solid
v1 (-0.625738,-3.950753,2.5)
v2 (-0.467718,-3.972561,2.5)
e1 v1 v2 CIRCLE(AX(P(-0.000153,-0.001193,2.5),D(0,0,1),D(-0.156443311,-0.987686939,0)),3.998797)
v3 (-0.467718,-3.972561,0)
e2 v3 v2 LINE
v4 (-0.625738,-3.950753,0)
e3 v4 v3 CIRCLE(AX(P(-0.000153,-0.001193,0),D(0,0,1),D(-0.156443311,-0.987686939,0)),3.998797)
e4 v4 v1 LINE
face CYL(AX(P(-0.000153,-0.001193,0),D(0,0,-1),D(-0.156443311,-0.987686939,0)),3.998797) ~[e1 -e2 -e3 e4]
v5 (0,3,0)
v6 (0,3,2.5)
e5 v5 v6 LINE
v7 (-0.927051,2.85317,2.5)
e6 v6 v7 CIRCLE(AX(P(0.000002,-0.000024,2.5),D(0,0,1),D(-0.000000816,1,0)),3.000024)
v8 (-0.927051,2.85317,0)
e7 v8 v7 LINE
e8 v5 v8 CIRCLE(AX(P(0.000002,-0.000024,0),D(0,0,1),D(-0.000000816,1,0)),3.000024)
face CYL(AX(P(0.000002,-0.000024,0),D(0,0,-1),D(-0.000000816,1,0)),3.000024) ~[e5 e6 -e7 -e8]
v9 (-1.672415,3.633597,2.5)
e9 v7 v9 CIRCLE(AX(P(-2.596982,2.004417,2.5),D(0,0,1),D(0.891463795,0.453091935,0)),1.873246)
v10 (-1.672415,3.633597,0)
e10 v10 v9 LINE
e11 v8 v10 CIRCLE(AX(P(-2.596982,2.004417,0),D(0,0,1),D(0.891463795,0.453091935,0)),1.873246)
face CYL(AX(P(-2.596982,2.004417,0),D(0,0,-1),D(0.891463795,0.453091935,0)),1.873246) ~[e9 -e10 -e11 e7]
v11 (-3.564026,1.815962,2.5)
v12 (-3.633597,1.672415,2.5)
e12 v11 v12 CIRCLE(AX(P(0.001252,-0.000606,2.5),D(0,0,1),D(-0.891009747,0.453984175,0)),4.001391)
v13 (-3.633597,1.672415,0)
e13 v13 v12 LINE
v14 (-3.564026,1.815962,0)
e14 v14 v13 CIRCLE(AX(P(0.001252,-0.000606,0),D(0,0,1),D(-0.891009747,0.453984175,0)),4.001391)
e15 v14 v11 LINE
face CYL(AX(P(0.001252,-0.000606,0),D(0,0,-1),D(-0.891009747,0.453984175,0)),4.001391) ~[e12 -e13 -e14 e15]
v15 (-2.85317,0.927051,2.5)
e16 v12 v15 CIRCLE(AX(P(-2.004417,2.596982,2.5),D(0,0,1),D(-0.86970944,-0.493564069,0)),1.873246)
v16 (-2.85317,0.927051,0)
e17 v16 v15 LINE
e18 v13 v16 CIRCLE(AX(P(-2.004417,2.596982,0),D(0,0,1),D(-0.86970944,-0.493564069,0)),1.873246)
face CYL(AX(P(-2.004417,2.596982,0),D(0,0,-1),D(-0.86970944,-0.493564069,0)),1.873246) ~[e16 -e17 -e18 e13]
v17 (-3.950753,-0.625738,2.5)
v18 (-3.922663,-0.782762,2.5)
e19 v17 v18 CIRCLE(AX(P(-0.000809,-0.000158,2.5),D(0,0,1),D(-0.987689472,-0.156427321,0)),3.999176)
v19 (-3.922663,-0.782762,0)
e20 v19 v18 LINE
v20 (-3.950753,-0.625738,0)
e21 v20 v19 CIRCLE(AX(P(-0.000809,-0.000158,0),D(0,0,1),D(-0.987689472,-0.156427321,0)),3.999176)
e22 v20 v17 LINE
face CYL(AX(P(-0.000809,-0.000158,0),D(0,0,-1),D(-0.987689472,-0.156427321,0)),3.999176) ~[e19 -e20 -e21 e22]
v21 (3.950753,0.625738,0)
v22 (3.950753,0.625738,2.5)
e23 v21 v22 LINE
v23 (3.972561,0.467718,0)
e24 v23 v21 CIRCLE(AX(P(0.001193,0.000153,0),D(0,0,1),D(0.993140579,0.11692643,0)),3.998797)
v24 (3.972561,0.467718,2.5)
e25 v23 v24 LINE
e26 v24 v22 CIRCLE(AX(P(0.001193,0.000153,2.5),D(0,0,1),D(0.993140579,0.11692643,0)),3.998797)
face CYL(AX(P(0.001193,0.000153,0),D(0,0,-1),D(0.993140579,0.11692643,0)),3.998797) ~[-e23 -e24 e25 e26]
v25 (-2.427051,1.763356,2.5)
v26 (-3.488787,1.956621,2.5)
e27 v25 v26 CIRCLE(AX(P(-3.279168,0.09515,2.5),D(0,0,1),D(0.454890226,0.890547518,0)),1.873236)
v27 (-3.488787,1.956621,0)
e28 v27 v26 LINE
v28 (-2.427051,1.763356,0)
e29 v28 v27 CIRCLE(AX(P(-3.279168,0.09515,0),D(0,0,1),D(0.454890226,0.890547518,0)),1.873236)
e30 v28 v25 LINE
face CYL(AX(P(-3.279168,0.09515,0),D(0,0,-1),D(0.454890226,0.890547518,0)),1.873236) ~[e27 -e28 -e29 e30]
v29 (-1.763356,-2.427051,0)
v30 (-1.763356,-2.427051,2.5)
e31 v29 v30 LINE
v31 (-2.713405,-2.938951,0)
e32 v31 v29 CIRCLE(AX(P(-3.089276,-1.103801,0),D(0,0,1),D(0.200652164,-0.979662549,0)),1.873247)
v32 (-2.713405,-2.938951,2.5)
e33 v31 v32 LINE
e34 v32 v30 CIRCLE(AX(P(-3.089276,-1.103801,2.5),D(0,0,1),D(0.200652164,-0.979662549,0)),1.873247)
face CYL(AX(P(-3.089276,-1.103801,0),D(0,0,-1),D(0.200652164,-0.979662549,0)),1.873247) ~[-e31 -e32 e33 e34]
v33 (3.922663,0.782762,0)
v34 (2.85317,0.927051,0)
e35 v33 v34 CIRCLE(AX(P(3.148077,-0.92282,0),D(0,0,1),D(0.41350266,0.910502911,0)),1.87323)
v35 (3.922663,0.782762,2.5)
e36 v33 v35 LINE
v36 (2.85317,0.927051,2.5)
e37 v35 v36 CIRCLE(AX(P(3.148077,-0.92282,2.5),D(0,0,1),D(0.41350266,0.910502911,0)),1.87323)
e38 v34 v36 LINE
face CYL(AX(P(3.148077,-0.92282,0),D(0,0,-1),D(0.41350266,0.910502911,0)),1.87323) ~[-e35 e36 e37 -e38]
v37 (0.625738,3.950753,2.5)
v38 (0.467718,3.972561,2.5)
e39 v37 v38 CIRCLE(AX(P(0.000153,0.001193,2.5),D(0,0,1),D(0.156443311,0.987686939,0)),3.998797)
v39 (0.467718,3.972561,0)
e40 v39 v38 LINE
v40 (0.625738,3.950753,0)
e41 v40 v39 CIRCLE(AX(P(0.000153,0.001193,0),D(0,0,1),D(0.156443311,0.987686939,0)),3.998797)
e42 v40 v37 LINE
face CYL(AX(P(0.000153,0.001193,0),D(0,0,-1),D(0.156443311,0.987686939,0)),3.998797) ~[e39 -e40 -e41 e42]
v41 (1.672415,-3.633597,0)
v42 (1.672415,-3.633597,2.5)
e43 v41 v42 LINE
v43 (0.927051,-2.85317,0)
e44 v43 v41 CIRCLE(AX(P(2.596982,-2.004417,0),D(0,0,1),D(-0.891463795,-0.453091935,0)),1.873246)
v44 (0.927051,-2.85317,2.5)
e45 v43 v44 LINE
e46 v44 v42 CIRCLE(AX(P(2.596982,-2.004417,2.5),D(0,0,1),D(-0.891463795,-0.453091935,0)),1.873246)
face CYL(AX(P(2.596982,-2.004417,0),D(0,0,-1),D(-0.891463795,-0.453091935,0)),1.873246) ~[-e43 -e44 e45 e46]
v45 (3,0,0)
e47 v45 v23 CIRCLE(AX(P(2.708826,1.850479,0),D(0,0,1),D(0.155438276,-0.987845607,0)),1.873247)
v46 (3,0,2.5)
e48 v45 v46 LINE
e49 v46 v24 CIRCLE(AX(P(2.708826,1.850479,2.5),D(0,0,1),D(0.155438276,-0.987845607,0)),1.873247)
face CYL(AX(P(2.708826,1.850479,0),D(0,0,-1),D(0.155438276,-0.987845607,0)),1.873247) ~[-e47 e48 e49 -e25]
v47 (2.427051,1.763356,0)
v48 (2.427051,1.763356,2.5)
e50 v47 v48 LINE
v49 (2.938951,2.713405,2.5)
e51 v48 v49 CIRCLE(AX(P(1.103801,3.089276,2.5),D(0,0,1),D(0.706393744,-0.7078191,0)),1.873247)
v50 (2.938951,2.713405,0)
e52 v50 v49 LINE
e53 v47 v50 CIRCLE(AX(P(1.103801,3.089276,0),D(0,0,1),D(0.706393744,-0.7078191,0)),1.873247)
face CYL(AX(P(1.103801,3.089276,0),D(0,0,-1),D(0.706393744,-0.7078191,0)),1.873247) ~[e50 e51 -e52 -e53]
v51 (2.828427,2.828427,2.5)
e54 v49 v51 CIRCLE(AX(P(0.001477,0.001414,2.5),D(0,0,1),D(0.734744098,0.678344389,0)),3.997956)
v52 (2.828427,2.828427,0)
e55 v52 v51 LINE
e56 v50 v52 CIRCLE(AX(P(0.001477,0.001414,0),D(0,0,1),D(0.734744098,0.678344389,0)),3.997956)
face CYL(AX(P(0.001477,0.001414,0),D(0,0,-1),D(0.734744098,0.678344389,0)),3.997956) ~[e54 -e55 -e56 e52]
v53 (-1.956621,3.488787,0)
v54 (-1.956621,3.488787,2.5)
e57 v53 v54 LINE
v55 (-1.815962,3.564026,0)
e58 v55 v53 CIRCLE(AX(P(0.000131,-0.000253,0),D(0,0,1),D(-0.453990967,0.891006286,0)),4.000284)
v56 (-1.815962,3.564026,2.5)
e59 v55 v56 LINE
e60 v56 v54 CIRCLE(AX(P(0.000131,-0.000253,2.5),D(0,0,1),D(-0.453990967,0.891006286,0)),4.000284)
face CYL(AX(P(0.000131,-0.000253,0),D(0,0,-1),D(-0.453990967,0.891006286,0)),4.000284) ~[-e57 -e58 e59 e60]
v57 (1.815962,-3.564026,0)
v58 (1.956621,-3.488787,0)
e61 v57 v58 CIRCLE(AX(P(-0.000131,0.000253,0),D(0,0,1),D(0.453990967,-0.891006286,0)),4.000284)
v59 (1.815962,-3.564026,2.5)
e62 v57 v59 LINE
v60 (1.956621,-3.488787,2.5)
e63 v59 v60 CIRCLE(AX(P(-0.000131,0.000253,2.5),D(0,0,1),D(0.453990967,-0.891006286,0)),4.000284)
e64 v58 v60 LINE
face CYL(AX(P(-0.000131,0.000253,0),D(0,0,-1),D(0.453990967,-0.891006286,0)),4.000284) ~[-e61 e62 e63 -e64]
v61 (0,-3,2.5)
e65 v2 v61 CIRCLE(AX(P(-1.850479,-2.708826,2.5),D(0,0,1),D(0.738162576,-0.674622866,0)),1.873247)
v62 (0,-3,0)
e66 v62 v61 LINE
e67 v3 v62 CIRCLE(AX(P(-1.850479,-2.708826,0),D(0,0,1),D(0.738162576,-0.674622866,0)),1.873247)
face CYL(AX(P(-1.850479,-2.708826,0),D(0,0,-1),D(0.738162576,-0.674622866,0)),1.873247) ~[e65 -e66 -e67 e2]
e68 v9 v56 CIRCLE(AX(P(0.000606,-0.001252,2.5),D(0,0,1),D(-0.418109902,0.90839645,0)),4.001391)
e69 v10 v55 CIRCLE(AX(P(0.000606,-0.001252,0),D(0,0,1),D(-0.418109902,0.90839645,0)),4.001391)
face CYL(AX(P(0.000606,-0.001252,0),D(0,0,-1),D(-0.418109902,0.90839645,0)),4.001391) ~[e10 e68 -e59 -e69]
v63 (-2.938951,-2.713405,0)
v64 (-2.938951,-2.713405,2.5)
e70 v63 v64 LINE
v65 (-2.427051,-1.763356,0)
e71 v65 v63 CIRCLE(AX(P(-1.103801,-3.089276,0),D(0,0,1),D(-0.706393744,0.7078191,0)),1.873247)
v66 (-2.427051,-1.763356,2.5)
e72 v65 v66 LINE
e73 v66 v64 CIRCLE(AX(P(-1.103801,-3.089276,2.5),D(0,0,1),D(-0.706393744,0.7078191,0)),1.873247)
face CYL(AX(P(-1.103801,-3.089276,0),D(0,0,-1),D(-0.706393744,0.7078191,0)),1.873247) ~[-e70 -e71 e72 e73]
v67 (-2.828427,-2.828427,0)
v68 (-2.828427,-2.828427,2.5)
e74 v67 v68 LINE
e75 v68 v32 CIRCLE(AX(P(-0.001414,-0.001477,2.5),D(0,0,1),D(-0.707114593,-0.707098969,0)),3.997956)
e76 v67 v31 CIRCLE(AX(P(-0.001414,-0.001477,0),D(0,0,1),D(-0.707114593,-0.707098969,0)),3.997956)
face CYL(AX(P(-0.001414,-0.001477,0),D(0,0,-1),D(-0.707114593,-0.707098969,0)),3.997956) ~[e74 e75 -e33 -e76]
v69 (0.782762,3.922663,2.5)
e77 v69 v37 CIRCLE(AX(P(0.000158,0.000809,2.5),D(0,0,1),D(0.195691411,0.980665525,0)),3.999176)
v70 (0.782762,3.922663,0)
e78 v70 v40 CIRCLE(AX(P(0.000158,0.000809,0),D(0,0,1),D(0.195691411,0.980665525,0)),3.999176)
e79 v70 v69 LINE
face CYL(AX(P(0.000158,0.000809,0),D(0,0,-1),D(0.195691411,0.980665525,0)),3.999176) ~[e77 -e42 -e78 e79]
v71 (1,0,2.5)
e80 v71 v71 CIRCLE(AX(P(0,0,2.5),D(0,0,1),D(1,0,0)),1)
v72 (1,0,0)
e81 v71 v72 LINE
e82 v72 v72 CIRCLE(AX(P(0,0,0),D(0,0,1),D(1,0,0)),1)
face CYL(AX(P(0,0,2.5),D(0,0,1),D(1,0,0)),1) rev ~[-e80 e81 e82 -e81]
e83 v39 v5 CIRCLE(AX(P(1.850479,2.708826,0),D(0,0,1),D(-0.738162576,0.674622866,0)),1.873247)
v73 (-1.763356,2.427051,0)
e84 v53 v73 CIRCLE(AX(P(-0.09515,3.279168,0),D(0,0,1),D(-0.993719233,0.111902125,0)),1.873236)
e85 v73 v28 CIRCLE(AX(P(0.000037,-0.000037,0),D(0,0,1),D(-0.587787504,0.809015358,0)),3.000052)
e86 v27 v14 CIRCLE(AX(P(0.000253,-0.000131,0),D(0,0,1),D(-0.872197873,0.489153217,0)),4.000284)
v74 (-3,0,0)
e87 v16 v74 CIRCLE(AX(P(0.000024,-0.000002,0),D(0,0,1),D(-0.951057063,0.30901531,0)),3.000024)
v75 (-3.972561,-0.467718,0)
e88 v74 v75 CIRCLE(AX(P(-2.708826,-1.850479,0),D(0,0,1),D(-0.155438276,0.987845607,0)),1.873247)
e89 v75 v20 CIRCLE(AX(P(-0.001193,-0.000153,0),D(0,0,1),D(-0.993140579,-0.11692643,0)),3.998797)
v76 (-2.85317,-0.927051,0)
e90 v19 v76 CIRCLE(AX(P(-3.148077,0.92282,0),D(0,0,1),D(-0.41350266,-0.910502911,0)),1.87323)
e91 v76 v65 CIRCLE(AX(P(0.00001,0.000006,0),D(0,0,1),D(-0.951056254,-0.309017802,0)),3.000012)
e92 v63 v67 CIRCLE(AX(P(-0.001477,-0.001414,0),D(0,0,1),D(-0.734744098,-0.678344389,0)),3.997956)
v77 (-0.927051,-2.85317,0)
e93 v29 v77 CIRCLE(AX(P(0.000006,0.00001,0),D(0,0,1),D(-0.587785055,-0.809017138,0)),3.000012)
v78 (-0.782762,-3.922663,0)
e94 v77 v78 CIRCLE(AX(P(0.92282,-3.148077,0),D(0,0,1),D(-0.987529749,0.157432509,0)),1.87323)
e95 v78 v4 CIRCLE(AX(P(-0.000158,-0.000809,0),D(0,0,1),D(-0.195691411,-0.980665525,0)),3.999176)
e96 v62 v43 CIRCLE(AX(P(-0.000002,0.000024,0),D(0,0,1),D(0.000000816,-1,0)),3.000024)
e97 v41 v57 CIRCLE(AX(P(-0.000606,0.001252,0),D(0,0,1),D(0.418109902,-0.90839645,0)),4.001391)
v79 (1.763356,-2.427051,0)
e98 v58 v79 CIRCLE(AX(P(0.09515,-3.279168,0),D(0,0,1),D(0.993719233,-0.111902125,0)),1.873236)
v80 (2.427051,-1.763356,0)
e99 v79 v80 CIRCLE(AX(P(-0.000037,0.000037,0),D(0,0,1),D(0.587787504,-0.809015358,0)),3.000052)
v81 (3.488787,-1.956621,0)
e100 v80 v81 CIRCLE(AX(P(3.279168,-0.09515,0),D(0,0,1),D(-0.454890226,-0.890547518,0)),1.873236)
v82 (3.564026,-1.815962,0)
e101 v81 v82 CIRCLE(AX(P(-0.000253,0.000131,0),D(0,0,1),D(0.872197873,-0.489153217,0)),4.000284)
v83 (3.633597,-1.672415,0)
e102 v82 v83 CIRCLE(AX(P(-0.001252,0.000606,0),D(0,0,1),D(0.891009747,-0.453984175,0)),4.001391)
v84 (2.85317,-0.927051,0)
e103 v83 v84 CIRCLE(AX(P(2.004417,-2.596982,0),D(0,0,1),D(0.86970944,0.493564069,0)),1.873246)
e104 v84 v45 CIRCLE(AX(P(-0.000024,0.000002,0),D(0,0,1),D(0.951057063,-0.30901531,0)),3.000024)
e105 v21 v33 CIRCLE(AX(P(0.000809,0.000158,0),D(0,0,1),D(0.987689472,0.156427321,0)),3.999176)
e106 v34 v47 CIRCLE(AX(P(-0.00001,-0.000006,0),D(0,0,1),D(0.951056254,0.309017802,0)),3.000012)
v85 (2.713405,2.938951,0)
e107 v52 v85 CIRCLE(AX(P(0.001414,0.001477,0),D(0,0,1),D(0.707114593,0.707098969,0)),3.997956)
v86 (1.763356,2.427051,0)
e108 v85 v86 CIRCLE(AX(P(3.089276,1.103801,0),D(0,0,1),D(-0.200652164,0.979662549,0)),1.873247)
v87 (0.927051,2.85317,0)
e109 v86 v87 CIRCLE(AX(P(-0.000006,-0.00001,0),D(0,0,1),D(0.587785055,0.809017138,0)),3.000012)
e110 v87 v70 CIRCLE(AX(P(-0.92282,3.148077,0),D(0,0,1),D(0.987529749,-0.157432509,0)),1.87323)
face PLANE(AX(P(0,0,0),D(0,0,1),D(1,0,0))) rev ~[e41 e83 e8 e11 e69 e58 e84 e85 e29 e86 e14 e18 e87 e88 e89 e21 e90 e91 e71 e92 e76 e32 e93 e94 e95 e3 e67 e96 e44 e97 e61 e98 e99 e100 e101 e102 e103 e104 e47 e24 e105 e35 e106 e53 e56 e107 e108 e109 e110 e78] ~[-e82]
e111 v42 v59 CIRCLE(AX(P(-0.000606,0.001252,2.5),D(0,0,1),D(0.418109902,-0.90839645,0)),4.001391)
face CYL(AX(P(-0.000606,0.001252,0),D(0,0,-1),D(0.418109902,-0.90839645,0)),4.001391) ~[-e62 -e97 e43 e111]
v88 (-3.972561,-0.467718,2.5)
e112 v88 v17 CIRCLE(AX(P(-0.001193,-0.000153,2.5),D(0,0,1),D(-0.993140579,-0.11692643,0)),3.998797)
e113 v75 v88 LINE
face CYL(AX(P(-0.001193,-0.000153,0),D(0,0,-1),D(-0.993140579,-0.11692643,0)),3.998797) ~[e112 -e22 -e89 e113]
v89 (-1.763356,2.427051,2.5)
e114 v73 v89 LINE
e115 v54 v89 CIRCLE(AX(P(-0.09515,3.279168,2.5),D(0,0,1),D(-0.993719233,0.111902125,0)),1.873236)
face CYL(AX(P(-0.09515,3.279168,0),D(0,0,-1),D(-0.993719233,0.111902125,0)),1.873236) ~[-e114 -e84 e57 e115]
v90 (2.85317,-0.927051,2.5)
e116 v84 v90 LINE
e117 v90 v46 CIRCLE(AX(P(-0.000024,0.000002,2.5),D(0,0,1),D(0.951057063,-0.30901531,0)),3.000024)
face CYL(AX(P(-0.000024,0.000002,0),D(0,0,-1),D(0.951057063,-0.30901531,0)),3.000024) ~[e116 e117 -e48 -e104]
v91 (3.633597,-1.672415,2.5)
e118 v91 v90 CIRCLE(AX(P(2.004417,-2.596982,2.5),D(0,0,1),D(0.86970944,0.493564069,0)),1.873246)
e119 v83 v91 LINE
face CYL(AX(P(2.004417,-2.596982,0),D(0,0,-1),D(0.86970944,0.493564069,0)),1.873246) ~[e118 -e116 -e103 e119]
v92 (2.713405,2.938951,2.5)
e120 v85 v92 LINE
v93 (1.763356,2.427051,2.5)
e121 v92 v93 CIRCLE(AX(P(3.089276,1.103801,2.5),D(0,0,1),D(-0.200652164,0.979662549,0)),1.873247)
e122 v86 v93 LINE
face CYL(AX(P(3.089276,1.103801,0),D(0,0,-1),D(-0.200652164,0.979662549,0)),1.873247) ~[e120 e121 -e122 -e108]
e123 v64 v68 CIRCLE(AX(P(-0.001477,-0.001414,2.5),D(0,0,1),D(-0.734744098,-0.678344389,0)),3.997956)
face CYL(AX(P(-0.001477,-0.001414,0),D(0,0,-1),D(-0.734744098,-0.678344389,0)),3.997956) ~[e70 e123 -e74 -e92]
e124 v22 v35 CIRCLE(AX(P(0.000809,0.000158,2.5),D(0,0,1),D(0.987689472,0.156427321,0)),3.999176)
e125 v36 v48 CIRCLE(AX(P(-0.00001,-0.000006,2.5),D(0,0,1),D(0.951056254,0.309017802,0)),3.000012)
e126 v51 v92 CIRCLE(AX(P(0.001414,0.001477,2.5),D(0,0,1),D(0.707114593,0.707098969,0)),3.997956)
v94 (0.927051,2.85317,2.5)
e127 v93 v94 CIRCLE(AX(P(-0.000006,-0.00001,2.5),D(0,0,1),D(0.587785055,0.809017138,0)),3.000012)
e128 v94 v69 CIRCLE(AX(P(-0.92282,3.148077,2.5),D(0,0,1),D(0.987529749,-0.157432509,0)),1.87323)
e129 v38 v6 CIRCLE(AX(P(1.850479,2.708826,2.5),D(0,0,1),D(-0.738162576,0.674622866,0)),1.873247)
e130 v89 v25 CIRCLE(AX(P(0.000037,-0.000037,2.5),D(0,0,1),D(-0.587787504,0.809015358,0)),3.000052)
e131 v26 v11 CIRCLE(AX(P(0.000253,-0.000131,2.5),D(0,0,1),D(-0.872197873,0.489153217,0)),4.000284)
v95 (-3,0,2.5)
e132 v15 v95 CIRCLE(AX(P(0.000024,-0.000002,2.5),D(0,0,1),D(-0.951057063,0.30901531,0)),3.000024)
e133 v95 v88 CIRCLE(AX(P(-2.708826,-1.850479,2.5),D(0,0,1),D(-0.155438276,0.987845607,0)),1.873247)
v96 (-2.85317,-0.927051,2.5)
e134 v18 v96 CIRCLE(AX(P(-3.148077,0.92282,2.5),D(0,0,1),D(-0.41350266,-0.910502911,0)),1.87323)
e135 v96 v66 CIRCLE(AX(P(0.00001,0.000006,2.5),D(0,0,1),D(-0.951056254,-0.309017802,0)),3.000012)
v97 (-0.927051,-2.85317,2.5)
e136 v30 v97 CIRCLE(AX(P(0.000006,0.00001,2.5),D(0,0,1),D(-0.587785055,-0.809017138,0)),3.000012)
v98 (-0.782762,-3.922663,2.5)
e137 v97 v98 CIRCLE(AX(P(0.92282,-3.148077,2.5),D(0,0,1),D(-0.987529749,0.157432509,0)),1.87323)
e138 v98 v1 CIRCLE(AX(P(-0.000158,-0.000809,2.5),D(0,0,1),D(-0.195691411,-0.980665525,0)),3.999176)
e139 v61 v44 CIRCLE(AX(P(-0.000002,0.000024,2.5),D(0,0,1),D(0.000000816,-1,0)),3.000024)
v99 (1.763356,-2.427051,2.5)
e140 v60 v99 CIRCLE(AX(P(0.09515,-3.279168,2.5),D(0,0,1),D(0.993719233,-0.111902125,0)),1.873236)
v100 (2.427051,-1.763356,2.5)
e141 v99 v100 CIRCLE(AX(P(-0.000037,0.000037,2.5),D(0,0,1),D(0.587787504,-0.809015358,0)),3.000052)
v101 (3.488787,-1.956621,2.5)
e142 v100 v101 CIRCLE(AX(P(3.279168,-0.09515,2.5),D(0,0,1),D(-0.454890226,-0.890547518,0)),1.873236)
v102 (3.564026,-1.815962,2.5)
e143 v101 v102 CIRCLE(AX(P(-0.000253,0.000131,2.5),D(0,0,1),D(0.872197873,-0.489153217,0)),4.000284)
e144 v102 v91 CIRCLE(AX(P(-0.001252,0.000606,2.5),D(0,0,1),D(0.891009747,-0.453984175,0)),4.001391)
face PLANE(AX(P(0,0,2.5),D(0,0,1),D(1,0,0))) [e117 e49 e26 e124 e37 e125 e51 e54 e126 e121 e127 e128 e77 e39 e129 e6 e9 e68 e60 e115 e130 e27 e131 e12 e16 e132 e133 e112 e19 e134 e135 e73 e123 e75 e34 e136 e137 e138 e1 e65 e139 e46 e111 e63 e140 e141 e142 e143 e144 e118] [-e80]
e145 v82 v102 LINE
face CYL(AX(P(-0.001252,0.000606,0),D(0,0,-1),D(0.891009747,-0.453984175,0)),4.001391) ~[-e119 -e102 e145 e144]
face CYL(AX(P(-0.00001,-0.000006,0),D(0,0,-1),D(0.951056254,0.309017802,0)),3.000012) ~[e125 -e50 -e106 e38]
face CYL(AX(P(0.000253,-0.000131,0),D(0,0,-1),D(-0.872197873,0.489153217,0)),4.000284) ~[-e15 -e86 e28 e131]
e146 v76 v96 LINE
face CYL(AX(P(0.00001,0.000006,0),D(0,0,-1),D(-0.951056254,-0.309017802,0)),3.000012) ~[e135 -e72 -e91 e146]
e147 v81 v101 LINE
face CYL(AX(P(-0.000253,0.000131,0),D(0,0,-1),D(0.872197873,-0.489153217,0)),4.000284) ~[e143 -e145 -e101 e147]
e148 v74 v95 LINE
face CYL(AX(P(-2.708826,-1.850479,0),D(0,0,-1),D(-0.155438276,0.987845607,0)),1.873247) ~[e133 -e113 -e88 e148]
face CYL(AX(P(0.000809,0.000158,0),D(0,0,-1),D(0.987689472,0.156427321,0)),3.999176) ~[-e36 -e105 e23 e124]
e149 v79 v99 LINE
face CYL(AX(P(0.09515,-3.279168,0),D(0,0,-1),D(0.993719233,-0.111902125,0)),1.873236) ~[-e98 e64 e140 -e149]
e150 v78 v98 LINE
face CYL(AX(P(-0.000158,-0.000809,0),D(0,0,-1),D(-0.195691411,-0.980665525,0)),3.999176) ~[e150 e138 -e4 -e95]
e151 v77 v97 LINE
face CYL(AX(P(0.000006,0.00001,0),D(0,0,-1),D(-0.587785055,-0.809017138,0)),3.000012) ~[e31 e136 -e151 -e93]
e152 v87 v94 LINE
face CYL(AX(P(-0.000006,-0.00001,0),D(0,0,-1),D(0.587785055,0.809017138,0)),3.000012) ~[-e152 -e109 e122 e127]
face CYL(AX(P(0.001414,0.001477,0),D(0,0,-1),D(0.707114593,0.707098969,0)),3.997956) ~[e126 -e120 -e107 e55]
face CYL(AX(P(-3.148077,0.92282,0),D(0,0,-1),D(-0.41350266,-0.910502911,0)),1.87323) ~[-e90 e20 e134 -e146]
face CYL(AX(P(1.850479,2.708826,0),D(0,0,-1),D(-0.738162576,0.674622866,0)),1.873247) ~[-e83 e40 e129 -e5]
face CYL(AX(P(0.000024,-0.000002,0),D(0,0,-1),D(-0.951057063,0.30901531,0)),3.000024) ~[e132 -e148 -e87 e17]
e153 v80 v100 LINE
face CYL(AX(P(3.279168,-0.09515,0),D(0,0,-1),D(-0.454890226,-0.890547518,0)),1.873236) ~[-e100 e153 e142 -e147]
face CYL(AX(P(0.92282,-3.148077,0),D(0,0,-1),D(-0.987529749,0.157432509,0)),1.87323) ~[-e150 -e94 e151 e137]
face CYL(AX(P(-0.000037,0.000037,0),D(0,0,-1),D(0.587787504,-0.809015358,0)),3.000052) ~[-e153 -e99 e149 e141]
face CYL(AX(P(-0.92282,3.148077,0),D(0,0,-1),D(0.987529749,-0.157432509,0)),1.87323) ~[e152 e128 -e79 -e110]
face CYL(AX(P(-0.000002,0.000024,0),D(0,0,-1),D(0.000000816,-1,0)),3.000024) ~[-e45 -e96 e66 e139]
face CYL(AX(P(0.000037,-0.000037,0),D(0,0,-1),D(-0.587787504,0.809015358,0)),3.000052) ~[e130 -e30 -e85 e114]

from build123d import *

# Parameters (mm, degrees)
F1_DEPTH = 2.5
F2_R     = 1
F3_DEPTH = 2.501


with BuildPart() as f1:
    # F0 (on Top) → F1 (new body)
    with BuildSketch(Plane.XY):
        with BuildLine():
            ThreePointArc((2.85317, 0.927051), (2.67302, 1.361971), (2.427051, 1.763356))
            ThreePointArc((2.427051, 1.763356), (2.752898, 2.200719), (2.938951, 2.713405))
            ThreePointArc((2.938951, 2.713405), (2.884263, 2.771467), (2.828427, 2.828427))
            ThreePointArc((2.828427, 2.828427), (2.771467, 2.884263), (2.713405, 2.938951))
            ThreePointArc((2.713405, 2.938951), (2.200719, 2.752898), (1.763356, 2.427051))
            ThreePointArc((1.763356, 2.427051), (1.361971, 2.67302), (0.927051, 2.85317))
            ThreePointArc((0.927051, 2.85317), (0.933592, 3.398532), (0.782762, 3.922663))
            ThreePointArc((0.782762, 3.922663), (0.70439, 3.937491), (0.625738, 3.950753))
            ThreePointArc((0.625738, 3.950753), (0.546837, 3.962445), (0.467718, 3.972561))
            ThreePointArc((0.467718, 3.972561), (0.162306, 3.520692), (0, 3))
            ThreePointArc((0, 3), (-0.469303, 2.963065), (-0.927051, 2.85317))
            ThreePointArc((-0.927051, 2.85317), (-1.242315, 3.298221), (-1.672415, 3.633597))
            ThreePointArc((-1.672415, 3.633597), (-1.744535, 3.599527), (-1.815962, 3.564026))
            ThreePointArc((-1.815962, 3.564026), (-1.886666, 3.527108), (-1.956621, 3.488787))
            ThreePointArc((-1.956621, 3.488787), (-1.938103, 2.9437), (-1.763356, 2.427051))
            ThreePointArc((-1.763356, 2.427051), (-2.12132, 2.12132), (-2.427051, 1.763356))
            ThreePointArc((-2.427051, 1.763356), (-2.9437, 1.938103), (-3.488787, 1.956621))
            ThreePointArc((-3.488787, 1.956621), (-3.527108, 1.886666), (-3.564026, 1.815962))
            ThreePointArc((-3.564026, 1.815962), (-3.599527, 1.744535), (-3.633597, 1.672415))
            ThreePointArc((-3.633597, 1.672415), (-3.298221, 1.242315), (-2.85317, 0.927051))
            ThreePointArc((-2.85317, 0.927051), (-2.963065, 0.469303), (-3, 0))
            ThreePointArc((-3, 0), (-3.520692, -0.162306), (-3.972561, -0.467718))
            ThreePointArc((-3.972561, -0.467718), (-3.962445, -0.546837), (-3.950753, -0.625738))
            ThreePointArc((-3.950753, -0.625738), (-3.937491, -0.70439), (-3.922663, -0.782762))
            ThreePointArc((-3.922663, -0.782762), (-3.398532, -0.933592), (-2.85317, -0.927051))
            ThreePointArc((-2.85317, -0.927051), (-2.67302, -1.361971), (-2.427051, -1.763356))
            ThreePointArc((-2.427051, -1.763356), (-2.752898, -2.200719), (-2.938951, -2.713405))
            ThreePointArc((-2.938951, -2.713405), (-2.884263, -2.771467), (-2.828427, -2.828427))
            ThreePointArc((-2.828427, -2.828427), (-2.771467, -2.884263), (-2.713405, -2.938951))
            ThreePointArc((-2.713405, -2.938951), (-2.200719, -2.752898), (-1.763356, -2.427051))
            ThreePointArc((-1.763356, -2.427051), (-1.361971, -2.67302), (-0.927051, -2.85317))
            ThreePointArc((-0.927051, -2.85317), (-0.933592, -3.398532), (-0.782762, -3.922663))
            ThreePointArc((-0.782762, -3.922663), (-0.70439, -3.937491), (-0.625738, -3.950753))
            ThreePointArc((-0.625738, -3.950753), (-0.546837, -3.962445), (-0.467718, -3.972561))
            ThreePointArc((-0.467718, -3.972561), (-0.162306, -3.520692), (0, -3))
            ThreePointArc((0, -3), (0.469303, -2.963065), (0.927051, -2.85317))
            ThreePointArc((0.927051, -2.85317), (1.242315, -3.298221), (1.672415, -3.633597))
            ThreePointArc((1.672415, -3.633597), (1.744535, -3.599527), (1.815962, -3.564026))
            ThreePointArc((1.815962, -3.564026), (1.886666, -3.527108), (1.956621, -3.488787))
            ThreePointArc((1.956621, -3.488787), (1.938103, -2.9437), (1.763356, -2.427051))
            ThreePointArc((1.763356, -2.427051), (2.12132, -2.12132), (2.427051, -1.763356))
            ThreePointArc((2.427051, -1.763356), (2.9437, -1.938103), (3.488787, -1.956621))
            ThreePointArc((3.488787, -1.956621), (3.527108, -1.886666), (3.564026, -1.815962))
            ThreePointArc((3.564026, -1.815962), (3.599527, -1.744535), (3.633597, -1.672415))
            ThreePointArc((3.633597, -1.672415), (3.298221, -1.242315), (2.85317, -0.927051))
            ThreePointArc((2.85317, -0.927051), (2.963065, -0.469303), (3, 0))
            ThreePointArc((3, 0), (3.520692, 0.162306), (3.972561, 0.467718))
            ThreePointArc((3.972561, 0.467718), (3.962445, 0.546837), (3.950753, 0.625738))
            ThreePointArc((3.950753, 0.625738), (3.937491, 0.70439), (3.922663, 0.782762))
            ThreePointArc((3.922663, 0.782762), (3.398532, 0.933592), (2.85317, 0.927051))
        make_face()
    extrude(amount=F1_DEPTH)

    # F2 (on face) → F3 (cut, through all)
    with BuildSketch(Plane.XY.offset(2.5)):
        Circle(F2_R)
    extrude(amount=-F3_DEPTH, mode=Mode.SUBTRACT)


solid = f1.part
